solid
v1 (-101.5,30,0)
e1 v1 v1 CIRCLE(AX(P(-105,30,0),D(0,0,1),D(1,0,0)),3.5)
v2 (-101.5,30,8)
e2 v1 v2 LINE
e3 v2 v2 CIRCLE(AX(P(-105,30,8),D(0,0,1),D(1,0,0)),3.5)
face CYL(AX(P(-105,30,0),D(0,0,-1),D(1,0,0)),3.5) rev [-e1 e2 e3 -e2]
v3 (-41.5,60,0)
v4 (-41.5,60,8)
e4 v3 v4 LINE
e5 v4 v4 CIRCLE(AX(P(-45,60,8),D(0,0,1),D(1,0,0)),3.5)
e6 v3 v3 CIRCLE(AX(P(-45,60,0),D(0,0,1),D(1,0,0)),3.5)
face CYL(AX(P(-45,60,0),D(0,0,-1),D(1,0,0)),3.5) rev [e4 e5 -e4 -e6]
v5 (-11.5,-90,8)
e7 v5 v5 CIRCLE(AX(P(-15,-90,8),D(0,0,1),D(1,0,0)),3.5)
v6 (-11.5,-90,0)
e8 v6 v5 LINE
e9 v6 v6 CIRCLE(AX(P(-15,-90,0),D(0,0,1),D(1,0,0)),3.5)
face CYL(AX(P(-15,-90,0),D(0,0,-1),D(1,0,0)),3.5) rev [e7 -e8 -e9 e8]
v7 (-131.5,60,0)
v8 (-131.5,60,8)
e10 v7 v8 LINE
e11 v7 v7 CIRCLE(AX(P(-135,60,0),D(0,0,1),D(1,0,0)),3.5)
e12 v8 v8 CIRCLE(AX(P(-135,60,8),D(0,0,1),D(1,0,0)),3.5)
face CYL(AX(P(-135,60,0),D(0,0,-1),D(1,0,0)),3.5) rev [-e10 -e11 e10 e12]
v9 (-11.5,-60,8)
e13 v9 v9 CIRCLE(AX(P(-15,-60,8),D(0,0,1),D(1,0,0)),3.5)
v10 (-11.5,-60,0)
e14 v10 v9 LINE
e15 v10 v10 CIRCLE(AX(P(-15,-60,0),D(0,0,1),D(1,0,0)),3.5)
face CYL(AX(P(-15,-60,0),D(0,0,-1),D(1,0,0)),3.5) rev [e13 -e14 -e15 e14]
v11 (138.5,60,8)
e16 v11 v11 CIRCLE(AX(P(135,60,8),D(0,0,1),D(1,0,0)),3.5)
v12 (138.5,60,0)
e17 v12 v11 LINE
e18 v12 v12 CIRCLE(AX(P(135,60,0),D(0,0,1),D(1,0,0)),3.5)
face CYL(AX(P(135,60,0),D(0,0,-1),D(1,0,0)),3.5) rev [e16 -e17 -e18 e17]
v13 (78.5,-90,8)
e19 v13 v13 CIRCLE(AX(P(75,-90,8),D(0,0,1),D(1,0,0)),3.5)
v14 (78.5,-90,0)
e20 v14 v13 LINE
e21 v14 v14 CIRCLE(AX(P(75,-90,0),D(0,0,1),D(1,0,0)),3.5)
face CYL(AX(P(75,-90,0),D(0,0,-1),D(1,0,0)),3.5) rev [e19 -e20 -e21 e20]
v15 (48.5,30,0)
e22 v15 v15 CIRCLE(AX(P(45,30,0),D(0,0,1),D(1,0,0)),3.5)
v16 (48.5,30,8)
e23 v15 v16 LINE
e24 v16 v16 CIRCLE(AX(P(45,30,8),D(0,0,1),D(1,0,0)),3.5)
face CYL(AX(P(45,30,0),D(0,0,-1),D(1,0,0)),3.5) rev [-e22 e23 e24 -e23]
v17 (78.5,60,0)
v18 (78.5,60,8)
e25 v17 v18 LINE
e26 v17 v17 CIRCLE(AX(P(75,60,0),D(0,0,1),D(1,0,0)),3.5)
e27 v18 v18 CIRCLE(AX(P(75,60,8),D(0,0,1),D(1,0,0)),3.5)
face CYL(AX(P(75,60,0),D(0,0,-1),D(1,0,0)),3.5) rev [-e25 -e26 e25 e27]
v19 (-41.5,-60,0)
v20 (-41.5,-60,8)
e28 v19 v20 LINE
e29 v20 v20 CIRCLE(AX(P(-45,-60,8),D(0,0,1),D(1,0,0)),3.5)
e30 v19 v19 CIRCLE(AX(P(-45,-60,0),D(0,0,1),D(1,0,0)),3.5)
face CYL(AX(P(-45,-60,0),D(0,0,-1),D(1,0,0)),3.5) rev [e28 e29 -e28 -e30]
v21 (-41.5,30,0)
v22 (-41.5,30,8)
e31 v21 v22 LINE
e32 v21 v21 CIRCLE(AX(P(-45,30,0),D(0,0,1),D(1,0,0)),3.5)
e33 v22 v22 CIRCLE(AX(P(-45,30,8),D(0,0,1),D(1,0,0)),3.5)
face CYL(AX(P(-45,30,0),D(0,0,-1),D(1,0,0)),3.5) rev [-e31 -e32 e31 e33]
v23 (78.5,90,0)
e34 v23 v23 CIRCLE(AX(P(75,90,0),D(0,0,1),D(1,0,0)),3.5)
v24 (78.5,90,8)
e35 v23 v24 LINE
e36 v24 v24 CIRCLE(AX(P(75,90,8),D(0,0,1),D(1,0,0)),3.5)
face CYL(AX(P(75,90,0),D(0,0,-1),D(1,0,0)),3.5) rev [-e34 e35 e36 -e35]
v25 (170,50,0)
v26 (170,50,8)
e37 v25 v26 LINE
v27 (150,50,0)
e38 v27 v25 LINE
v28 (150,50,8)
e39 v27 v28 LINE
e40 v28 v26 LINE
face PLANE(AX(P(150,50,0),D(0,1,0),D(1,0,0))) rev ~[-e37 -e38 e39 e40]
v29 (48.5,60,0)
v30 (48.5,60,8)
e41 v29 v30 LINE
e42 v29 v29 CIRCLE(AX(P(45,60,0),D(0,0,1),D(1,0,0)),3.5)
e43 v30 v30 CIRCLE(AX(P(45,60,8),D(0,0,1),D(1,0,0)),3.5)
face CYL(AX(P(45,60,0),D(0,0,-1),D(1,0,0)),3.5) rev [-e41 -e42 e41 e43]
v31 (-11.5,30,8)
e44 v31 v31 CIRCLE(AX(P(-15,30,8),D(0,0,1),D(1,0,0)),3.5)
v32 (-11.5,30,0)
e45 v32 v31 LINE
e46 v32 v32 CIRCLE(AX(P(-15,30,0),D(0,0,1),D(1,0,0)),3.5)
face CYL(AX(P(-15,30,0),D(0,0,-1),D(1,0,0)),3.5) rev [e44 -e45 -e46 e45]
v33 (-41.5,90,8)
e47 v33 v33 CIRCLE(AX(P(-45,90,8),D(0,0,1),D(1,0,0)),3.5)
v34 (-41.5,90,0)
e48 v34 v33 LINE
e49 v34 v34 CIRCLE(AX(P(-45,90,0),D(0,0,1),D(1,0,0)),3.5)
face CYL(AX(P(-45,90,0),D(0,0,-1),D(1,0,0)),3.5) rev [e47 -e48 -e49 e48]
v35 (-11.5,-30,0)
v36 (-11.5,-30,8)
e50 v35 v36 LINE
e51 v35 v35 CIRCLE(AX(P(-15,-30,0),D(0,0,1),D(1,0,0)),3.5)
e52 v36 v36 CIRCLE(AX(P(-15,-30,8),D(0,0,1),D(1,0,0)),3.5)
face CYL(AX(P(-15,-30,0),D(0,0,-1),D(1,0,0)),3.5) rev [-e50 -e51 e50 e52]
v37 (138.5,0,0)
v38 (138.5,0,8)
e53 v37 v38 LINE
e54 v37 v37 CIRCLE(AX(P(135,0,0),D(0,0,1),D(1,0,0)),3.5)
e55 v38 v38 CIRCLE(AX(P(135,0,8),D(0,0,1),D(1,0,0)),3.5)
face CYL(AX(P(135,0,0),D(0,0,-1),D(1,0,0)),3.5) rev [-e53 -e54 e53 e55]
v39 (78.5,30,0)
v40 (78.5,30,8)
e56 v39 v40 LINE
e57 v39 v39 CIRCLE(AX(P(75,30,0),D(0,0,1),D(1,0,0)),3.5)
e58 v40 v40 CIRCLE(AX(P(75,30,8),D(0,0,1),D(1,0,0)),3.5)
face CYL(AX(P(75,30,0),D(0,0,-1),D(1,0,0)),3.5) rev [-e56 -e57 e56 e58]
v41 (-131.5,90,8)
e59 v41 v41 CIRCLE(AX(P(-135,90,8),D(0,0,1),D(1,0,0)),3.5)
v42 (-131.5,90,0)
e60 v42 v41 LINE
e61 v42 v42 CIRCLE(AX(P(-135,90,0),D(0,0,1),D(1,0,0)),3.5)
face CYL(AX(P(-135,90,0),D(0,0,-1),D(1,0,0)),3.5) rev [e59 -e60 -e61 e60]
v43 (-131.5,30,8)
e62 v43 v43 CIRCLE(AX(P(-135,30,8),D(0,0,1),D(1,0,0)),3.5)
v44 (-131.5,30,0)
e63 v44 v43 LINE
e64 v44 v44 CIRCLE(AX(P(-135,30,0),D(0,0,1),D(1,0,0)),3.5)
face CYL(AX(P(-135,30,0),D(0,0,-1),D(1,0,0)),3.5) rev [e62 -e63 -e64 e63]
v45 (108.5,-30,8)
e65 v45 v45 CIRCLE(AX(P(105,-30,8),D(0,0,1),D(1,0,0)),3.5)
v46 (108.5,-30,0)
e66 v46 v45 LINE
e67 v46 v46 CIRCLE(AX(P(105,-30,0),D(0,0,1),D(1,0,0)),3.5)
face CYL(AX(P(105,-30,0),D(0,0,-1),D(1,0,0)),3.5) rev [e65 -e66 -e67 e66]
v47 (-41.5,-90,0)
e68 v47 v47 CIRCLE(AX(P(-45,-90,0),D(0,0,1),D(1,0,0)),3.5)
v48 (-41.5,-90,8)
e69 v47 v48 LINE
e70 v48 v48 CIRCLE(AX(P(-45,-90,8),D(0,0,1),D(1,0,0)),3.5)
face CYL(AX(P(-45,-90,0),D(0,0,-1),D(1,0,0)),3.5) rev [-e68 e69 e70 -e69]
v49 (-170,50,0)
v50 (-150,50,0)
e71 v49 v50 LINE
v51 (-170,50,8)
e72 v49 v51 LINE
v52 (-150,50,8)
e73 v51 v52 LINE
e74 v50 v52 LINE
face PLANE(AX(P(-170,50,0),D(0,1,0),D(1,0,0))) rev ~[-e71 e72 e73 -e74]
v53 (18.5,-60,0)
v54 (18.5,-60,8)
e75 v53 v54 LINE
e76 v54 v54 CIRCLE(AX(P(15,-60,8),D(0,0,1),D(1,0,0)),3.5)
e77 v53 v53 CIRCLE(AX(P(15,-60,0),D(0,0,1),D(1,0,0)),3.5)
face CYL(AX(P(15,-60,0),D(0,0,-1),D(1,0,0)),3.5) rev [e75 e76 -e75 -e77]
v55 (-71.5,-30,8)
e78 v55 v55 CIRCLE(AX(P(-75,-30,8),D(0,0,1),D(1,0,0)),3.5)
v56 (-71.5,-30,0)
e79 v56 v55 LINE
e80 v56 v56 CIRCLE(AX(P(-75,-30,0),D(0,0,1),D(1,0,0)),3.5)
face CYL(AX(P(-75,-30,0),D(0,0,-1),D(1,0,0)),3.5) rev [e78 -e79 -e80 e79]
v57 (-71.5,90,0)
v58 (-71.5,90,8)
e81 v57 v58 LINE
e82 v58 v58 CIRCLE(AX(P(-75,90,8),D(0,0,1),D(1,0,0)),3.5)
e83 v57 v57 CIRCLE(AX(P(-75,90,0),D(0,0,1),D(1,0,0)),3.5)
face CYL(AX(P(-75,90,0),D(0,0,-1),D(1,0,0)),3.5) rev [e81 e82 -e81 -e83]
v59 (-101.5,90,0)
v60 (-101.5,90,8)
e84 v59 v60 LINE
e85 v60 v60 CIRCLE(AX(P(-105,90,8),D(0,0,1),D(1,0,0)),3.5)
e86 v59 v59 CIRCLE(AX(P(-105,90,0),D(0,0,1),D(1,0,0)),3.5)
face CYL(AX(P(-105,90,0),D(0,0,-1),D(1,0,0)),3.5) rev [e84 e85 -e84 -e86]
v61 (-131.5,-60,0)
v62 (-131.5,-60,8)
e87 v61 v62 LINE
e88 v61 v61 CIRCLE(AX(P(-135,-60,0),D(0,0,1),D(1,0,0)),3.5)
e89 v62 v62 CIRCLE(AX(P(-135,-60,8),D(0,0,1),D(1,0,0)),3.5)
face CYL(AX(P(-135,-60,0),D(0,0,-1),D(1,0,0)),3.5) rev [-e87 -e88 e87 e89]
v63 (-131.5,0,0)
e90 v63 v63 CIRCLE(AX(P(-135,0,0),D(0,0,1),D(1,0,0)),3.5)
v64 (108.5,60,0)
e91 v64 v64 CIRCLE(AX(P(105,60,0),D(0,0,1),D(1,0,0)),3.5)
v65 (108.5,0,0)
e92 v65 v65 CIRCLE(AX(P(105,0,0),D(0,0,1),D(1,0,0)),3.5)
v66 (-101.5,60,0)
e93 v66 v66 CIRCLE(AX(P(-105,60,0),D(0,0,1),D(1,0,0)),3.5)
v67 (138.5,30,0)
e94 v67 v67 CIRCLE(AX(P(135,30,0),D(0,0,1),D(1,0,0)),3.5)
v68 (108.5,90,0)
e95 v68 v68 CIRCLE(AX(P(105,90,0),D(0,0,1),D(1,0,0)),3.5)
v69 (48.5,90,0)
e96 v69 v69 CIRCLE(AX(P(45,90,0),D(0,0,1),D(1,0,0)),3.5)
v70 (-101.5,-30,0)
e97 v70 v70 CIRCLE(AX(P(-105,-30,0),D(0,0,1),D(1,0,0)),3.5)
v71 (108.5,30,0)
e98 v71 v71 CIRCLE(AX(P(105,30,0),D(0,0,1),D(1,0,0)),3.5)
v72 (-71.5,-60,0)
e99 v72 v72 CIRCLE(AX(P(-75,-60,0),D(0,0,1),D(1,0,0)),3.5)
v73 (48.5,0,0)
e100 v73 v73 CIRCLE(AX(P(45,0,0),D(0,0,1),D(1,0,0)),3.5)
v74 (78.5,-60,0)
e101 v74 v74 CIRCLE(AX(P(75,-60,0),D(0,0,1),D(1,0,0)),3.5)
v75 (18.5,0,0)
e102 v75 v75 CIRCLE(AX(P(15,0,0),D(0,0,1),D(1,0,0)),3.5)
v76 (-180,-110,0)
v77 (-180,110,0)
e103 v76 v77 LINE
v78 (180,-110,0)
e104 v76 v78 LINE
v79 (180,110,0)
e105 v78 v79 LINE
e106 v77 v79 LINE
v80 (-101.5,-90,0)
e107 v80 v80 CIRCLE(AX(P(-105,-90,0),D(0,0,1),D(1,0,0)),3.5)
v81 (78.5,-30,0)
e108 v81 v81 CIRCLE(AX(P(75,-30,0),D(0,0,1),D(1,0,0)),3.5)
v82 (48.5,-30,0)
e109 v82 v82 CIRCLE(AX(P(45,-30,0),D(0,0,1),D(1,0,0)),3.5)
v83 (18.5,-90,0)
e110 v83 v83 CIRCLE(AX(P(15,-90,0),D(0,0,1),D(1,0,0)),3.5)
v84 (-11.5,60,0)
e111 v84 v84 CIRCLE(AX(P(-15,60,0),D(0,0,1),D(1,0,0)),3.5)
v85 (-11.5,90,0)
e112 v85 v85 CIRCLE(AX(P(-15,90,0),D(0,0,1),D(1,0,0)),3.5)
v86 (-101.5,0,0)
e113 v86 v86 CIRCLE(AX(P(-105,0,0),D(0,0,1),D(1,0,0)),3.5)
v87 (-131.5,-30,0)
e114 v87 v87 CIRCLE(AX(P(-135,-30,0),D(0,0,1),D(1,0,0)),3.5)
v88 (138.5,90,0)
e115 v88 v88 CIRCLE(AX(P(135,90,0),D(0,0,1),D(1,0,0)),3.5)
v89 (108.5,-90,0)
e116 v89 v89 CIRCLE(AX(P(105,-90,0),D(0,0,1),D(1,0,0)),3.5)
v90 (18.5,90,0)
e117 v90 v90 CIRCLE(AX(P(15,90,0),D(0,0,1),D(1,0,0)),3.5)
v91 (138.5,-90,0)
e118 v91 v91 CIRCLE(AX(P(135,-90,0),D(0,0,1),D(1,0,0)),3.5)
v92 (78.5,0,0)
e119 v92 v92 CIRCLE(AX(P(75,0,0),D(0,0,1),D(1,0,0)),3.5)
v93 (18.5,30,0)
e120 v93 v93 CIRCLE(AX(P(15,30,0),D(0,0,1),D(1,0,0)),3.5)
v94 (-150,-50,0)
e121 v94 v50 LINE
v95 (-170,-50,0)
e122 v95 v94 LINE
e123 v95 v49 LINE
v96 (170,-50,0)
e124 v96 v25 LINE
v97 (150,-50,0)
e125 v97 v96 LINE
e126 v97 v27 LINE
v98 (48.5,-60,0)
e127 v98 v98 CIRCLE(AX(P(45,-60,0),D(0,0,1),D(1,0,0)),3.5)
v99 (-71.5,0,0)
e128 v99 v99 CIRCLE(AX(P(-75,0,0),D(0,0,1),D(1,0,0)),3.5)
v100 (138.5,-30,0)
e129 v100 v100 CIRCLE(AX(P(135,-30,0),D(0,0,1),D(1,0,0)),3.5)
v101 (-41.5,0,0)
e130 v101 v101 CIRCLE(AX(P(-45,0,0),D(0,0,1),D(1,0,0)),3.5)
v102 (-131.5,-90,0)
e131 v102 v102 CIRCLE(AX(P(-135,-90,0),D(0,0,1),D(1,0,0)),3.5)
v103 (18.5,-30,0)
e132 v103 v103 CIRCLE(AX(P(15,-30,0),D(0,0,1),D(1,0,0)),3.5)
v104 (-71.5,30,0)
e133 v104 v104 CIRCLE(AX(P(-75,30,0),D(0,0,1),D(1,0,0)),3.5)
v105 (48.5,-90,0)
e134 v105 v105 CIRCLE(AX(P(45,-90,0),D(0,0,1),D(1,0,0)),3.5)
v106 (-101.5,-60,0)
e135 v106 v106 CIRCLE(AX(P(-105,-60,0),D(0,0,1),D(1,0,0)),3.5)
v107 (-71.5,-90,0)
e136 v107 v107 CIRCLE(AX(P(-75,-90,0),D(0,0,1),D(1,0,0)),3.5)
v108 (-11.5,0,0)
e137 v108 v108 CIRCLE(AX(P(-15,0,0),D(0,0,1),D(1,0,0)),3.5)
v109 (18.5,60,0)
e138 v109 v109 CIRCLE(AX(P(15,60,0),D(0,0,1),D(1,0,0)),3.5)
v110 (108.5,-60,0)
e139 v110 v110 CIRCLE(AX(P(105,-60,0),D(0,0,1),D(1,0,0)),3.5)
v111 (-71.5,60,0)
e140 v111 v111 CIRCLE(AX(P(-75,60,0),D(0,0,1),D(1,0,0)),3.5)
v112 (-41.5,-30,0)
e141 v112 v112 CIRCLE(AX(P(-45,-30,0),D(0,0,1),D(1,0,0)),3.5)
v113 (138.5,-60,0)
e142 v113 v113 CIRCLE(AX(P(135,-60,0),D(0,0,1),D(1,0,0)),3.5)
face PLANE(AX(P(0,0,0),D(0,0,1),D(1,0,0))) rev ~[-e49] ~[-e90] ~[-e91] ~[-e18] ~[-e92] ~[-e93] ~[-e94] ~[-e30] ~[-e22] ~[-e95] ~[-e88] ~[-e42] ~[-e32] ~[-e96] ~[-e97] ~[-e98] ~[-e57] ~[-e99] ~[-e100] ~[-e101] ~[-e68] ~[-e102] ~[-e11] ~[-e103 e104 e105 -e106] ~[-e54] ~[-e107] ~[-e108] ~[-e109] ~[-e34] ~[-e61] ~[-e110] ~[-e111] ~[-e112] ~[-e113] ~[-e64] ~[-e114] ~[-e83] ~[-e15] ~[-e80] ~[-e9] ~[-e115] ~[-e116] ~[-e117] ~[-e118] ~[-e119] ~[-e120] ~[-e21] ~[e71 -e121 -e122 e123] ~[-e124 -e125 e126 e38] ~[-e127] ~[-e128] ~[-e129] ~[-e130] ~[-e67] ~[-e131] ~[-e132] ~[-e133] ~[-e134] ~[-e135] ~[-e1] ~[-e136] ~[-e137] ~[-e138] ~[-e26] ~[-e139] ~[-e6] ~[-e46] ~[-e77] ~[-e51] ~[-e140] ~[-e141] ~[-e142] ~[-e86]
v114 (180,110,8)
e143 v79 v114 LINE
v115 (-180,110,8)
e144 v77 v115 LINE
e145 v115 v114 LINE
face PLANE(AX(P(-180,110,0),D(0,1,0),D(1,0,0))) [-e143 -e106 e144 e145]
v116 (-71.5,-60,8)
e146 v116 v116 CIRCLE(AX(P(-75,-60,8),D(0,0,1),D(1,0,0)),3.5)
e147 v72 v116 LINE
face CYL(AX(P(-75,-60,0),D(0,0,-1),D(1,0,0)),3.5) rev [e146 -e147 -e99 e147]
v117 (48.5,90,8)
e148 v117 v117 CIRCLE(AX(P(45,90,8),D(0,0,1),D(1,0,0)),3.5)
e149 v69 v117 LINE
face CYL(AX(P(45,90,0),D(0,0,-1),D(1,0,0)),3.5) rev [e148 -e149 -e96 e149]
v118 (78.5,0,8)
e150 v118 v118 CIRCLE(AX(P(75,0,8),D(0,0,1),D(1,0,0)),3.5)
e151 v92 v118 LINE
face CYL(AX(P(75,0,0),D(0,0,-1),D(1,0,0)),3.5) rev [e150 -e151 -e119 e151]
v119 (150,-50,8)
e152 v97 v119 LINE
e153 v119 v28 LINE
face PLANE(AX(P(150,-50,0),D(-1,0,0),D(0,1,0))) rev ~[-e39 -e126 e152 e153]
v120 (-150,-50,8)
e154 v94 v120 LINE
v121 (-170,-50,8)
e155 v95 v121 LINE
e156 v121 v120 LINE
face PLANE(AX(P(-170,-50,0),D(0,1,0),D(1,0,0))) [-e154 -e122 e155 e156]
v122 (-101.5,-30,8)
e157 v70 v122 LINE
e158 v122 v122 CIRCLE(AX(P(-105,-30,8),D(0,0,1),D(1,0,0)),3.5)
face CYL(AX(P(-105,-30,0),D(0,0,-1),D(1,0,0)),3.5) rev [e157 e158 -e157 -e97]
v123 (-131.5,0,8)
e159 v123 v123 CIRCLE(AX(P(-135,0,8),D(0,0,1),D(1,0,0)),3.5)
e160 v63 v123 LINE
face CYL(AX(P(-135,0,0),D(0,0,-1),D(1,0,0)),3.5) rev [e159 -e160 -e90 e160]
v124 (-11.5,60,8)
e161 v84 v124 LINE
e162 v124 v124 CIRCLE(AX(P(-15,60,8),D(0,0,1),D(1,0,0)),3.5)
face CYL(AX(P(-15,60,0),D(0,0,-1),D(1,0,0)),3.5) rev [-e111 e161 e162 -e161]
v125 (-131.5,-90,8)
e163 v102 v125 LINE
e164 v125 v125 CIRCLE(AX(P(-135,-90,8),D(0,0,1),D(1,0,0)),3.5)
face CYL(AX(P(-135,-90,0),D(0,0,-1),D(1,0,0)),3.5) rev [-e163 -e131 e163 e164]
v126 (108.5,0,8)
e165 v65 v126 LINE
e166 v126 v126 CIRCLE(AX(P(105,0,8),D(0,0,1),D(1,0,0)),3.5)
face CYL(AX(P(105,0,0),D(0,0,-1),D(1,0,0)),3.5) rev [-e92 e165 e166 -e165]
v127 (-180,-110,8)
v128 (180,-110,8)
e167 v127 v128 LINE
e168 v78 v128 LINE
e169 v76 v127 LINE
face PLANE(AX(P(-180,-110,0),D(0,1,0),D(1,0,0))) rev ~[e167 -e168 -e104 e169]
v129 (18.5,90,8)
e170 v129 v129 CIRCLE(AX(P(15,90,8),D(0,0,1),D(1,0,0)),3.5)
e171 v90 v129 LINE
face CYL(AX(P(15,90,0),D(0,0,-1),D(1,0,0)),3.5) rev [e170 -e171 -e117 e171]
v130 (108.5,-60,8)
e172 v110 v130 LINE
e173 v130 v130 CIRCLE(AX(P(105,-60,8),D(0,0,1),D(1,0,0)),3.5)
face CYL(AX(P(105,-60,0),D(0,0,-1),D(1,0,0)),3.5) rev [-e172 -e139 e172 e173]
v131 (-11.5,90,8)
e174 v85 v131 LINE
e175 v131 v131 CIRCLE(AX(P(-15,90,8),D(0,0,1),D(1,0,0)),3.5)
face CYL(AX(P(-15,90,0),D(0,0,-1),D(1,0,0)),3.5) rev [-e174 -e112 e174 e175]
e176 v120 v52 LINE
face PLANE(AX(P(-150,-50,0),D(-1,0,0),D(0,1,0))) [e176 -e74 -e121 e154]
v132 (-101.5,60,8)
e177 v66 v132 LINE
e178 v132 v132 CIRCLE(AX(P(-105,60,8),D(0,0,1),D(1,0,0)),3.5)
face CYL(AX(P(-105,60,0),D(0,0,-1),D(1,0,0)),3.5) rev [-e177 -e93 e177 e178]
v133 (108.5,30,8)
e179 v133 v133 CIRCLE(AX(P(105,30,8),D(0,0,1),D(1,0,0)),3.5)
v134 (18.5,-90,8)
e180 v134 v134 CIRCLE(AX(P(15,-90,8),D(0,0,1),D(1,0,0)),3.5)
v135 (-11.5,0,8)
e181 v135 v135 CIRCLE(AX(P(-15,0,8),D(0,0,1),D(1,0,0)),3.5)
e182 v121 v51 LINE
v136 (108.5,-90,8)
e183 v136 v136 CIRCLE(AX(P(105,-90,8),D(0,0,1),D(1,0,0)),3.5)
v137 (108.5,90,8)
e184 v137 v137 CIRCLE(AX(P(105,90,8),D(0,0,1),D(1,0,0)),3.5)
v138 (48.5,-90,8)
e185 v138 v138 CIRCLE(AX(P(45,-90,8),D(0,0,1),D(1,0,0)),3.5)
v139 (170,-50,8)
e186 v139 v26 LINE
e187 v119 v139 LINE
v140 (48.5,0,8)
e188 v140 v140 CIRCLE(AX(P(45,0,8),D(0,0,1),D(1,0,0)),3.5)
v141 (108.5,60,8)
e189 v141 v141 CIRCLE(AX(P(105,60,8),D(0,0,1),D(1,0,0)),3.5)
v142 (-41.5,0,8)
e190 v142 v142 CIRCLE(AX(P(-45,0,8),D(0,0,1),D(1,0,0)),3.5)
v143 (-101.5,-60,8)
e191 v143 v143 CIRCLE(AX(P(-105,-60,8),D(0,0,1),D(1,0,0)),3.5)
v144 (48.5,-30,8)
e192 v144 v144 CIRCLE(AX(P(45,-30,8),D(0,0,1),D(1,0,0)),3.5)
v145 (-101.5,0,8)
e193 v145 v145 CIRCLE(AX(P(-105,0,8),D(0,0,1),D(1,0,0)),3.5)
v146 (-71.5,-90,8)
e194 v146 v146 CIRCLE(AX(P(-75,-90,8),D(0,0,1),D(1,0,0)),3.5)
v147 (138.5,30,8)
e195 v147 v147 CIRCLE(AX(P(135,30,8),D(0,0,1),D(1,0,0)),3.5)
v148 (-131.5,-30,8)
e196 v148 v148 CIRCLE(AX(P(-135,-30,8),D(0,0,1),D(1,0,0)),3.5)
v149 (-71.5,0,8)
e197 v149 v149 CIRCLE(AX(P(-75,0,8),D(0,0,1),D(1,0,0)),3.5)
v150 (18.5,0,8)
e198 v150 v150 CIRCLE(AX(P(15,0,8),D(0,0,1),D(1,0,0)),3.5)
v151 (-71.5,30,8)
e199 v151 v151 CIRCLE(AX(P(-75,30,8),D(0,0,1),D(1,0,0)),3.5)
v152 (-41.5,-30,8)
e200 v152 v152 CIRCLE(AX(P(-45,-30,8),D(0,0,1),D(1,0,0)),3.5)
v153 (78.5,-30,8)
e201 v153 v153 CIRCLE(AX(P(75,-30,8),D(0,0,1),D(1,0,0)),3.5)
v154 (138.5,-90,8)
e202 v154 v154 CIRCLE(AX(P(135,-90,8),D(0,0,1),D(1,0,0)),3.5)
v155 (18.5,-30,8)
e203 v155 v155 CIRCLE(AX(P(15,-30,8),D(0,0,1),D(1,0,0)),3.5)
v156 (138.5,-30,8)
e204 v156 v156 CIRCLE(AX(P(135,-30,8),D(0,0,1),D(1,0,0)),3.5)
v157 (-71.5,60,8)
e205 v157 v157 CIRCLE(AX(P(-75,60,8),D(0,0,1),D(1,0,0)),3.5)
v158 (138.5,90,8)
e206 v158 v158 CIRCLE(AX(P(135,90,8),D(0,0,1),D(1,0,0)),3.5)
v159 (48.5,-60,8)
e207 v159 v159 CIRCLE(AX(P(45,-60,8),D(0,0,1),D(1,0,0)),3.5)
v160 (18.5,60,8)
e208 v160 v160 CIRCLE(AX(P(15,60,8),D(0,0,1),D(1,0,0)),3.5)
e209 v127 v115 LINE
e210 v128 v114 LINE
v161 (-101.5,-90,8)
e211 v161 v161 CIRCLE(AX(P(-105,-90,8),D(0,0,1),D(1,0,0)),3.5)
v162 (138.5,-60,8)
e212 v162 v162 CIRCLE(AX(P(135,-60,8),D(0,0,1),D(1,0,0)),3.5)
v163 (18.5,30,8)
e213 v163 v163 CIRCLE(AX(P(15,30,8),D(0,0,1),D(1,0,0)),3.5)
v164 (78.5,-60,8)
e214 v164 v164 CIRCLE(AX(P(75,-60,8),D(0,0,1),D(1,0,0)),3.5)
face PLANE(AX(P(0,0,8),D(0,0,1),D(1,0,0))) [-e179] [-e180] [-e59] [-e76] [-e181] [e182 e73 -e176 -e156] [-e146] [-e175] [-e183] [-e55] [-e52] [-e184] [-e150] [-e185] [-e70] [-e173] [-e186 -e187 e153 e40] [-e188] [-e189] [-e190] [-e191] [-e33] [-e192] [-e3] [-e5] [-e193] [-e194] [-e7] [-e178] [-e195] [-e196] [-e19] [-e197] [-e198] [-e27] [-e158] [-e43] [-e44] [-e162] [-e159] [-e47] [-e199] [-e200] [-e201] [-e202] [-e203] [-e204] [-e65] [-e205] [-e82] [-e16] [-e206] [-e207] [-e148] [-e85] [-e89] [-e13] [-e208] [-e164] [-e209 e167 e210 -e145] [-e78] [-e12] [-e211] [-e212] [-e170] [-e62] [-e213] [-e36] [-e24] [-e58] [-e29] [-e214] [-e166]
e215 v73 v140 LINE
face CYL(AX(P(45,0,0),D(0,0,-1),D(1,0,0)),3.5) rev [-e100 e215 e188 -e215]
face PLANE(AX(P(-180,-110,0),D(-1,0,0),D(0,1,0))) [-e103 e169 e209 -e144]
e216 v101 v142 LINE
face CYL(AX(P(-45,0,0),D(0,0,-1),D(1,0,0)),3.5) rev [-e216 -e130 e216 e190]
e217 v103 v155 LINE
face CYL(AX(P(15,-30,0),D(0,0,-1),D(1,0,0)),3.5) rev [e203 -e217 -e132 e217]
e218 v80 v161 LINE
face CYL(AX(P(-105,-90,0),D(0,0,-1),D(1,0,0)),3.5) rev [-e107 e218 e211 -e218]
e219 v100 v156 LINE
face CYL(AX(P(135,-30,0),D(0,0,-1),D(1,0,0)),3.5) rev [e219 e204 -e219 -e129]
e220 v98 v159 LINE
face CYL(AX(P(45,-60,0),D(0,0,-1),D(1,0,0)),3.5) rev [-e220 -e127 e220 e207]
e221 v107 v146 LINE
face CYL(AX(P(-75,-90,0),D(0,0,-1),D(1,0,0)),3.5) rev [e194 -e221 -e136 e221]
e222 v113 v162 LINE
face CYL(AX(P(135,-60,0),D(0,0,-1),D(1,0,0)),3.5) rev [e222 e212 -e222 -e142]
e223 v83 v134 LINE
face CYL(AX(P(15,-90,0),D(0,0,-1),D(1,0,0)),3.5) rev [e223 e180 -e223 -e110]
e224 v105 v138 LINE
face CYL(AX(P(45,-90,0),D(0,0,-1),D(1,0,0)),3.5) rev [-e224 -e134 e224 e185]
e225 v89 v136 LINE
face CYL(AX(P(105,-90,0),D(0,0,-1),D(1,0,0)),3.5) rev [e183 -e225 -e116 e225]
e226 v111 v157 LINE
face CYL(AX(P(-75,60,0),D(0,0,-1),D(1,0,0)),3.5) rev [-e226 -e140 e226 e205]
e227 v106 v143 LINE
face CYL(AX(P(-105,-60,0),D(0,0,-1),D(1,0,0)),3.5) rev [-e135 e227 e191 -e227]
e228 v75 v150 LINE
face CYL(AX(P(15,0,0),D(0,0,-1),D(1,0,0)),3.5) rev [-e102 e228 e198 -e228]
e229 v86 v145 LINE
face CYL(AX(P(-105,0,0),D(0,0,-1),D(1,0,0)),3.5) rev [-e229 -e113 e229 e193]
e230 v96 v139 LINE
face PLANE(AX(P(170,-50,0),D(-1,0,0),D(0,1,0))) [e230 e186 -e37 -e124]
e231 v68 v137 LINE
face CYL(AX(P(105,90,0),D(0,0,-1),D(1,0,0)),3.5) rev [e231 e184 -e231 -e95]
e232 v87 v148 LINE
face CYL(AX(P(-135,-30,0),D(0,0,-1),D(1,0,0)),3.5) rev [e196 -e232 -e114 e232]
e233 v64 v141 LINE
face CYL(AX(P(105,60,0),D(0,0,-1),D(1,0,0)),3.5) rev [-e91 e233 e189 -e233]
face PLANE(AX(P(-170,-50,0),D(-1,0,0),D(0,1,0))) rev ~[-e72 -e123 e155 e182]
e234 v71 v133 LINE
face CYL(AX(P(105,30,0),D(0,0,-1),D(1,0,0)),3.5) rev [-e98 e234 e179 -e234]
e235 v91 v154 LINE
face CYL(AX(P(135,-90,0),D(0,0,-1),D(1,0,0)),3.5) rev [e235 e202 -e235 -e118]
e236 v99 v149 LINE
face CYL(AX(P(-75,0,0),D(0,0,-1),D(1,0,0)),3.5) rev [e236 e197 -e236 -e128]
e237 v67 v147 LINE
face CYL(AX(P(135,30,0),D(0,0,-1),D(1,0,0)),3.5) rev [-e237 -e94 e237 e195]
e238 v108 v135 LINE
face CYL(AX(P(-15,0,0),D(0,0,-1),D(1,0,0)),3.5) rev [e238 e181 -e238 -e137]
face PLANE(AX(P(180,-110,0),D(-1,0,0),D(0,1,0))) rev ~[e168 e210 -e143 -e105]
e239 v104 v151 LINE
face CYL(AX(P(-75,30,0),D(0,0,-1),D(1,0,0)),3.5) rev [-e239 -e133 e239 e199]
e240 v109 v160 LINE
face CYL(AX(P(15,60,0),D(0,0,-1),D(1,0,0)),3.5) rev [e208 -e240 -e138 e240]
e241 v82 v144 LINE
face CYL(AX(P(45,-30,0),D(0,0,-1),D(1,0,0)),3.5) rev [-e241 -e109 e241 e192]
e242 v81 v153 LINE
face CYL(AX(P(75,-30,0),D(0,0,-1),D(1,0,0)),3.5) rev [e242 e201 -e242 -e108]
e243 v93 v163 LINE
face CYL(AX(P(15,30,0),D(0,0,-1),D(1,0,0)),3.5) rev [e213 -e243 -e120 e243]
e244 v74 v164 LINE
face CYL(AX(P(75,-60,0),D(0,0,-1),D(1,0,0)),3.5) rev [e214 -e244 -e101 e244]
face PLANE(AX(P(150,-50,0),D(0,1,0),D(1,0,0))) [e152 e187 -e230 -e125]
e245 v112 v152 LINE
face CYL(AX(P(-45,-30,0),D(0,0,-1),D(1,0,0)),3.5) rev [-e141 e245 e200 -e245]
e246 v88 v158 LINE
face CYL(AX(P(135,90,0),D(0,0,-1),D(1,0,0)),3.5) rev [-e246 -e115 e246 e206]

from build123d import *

# Parameters (mm, degrees)
F0_W     = 360
F0_H     = 220
F0_R     = 3.5
F0_W_2   = 20
F0_H_2   = 100
F1_DEPTH = 8


with BuildPart() as f1:
    # F0 (on Top) → F1 (new body)
    with BuildSketch(Plane.XY):
        Rectangle(F0_W, F0_H)
        with Locations((-135, -90)):
            Circle(F0_R, mode=Mode.SUBTRACT)
        with Locations((-105, -90)):
            Circle(F0_R, mode=Mode.SUBTRACT)
        with Locations((-135, -60)):
            Circle(F0_R, mode=Mode.SUBTRACT)
        with Locations((-105, -60)):
            Circle(F0_R, mode=Mode.SUBTRACT)
        with Locations((-75, -90)):
            Circle(F0_R, mode=Mode.SUBTRACT)
        with Locations((-45, -90)):
            Circle(F0_R, mode=Mode.SUBTRACT)
        with Locations((-15, -90)):
            Circle(F0_R, mode=Mode.SUBTRACT)
        with Locations((-75, -60)):
            Circle(F0_R, mode=Mode.SUBTRACT)
        with Locations((-45, -60)):
            Circle(F0_R, mode=Mode.SUBTRACT)
        with Locations((-15, -60)):
            Circle(F0_R, mode=Mode.SUBTRACT)
        with Locations((-135, -30)):
            Circle(F0_R, mode=Mode.SUBTRACT)
        with Locations((-105, -30)):
            Circle(F0_R, mode=Mode.SUBTRACT)
        with Locations((-75, -30)):
            Circle(F0_R, mode=Mode.SUBTRACT)
        with Locations((-45, -30)):
            Circle(F0_R, mode=Mode.SUBTRACT)
        with Locations((-15, -30)):
            Circle(F0_R, mode=Mode.SUBTRACT)
        with Locations((15, -90)):
            Circle(F0_R, mode=Mode.SUBTRACT)
        with Locations((45, -90)):
            Circle(F0_R, mode=Mode.SUBTRACT)
        with Locations((75, -90)):
            Circle(F0_R, mode=Mode.SUBTRACT)
        with Locations((15, -60)):
            Circle(F0_R, mode=Mode.SUBTRACT)
        with Locations((45, -60)):
            Circle(F0_R, mode=Mode.SUBTRACT)
        with Locations((75, -60)):
            Circle(F0_R, mode=Mode.SUBTRACT)
        with Locations((105, -90)):
            Circle(F0_R, mode=Mode.SUBTRACT)
        with Locations((135, -90)):
            Circle(F0_R, mode=Mode.SUBTRACT)
        with Locations((105, -60)):
            Circle(F0_R, mode=Mode.SUBTRACT)
        with Locations((135, -60)):
            Circle(F0_R, mode=Mode.SUBTRACT)
        with Locations((15, -30)):
            Circle(F0_R, mode=Mode.SUBTRACT)
        with Locations((45, -30)):
            Circle(F0_R, mode=Mode.SUBTRACT)
        with Locations((75, -30)):
            Circle(F0_R, mode=Mode.SUBTRACT)
        with Locations((105, -30)):
            Circle(F0_R, mode=Mode.SUBTRACT)
        with Locations((135, -30)):
            Circle(F0_R, mode=Mode.SUBTRACT)
        with Locations((-160, 0)):
            Rectangle(F0_W_2, F0_H_2, mode=Mode.SUBTRACT)
        with Locations((-135, 0)):
            Circle(F0_R, mode=Mode.SUBTRACT)
        with Locations((-105, 0)):
            Circle(F0_R, mode=Mode.SUBTRACT)
        with Locations((-135, 30)):
            Circle(F0_R, mode=Mode.SUBTRACT)
        with Locations((-105, 30)):
            Circle(F0_R, mode=Mode.SUBTRACT)
        with Locations((-75, 0)):
            Circle(F0_R, mode=Mode.SUBTRACT)
        with Locations((-45, 0)):
            Circle(F0_R, mode=Mode.SUBTRACT)
        with Locations((-15, 0)):
            Circle(F0_R, mode=Mode.SUBTRACT)
        with Locations((-75, 30)):
            Circle(F0_R, mode=Mode.SUBTRACT)
        with Locations((-45, 30)):
            Circle(F0_R, mode=Mode.SUBTRACT)
        with Locations((-15, 30)):
            Circle(F0_R, mode=Mode.SUBTRACT)
        with Locations((-135, 60)):
            Circle(F0_R, mode=Mode.SUBTRACT)
        with Locations((-105, 60)):
            Circle(F0_R, mode=Mode.SUBTRACT)
        with Locations((-135, 90)):
            Circle(F0_R, mode=Mode.SUBTRACT)
        with Locations((-105, 90)):
            Circle(F0_R, mode=Mode.SUBTRACT)
        with Locations((-75, 60)):
            Circle(F0_R, mode=Mode.SUBTRACT)
        with Locations((-45, 60)):
            Circle(F0_R, mode=Mode.SUBTRACT)
        with Locations((-15, 60)):
            Circle(F0_R, mode=Mode.SUBTRACT)
        with Locations((-75, 90)):
            Circle(F0_R, mode=Mode.SUBTRACT)
        with Locations((-45, 90)):
            Circle(F0_R, mode=Mode.SUBTRACT)
        with Locations((-15, 90)):
            Circle(F0_R, mode=Mode.SUBTRACT)
        with Locations((15, 0)):
            Circle(F0_R, mode=Mode.SUBTRACT)
        with Locations((45, 0)):
            Circle(F0_R, mode=Mode.SUBTRACT)
        with Locations((75, 0)):
            Circle(F0_R, mode=Mode.SUBTRACT)
        with Locations((15, 30)):
            Circle(F0_R, mode=Mode.SUBTRACT)
        with Locations((45, 30)):
            Circle(F0_R, mode=Mode.SUBTRACT)
        with Locations((75, 30)):
            Circle(F0_R, mode=Mode.SUBTRACT)
        with Locations((105, 0)):
            Circle(F0_R, mode=Mode.SUBTRACT)
        with Locations((135, 0)):
            Circle(F0_R, mode=Mode.SUBTRACT)
        with Locations((160, 0)):
            Rectangle(F0_W_2, F0_H_2, mode=Mode.SUBTRACT)
        with Locations((105, 30)):
            Circle(F0_R, mode=Mode.SUBTRACT)
        with Locations((135, 30)):
            Circle(F0_R, mode=Mode.SUBTRACT)
        with Locations((15, 60)):
            Circle(F0_R, mode=Mode.SUBTRACT)
        with Locations((45, 60)):
            Circle(F0_R, mode=Mode.SUBTRACT)
        with Locations((75, 60)):
            Circle(F0_R, mode=Mode.SUBTRACT)
        with Locations((15, 90)):
            Circle(F0_R, mode=Mode.SUBTRACT)
        with Locations((45, 90)):
            Circle(F0_R, mode=Mode.SUBTRACT)
        with Locations((75, 90)):
            Circle(F0_R, mode=Mode.SUBTRACT)
        with Locations((105, 60)):
            Circle(F0_R, mode=Mode.SUBTRACT)
        with Locations((135, 60)):
            Circle(F0_R, mode=Mode.SUBTRACT)
        with Locations((105, 90)):
            Circle(F0_R, mode=Mode.SUBTRACT)
        with Locations((135, 90)):
            Circle(F0_R, mode=Mode.SUBTRACT)
    extrude(amount=F1_DEPTH)


solid = f1.part
